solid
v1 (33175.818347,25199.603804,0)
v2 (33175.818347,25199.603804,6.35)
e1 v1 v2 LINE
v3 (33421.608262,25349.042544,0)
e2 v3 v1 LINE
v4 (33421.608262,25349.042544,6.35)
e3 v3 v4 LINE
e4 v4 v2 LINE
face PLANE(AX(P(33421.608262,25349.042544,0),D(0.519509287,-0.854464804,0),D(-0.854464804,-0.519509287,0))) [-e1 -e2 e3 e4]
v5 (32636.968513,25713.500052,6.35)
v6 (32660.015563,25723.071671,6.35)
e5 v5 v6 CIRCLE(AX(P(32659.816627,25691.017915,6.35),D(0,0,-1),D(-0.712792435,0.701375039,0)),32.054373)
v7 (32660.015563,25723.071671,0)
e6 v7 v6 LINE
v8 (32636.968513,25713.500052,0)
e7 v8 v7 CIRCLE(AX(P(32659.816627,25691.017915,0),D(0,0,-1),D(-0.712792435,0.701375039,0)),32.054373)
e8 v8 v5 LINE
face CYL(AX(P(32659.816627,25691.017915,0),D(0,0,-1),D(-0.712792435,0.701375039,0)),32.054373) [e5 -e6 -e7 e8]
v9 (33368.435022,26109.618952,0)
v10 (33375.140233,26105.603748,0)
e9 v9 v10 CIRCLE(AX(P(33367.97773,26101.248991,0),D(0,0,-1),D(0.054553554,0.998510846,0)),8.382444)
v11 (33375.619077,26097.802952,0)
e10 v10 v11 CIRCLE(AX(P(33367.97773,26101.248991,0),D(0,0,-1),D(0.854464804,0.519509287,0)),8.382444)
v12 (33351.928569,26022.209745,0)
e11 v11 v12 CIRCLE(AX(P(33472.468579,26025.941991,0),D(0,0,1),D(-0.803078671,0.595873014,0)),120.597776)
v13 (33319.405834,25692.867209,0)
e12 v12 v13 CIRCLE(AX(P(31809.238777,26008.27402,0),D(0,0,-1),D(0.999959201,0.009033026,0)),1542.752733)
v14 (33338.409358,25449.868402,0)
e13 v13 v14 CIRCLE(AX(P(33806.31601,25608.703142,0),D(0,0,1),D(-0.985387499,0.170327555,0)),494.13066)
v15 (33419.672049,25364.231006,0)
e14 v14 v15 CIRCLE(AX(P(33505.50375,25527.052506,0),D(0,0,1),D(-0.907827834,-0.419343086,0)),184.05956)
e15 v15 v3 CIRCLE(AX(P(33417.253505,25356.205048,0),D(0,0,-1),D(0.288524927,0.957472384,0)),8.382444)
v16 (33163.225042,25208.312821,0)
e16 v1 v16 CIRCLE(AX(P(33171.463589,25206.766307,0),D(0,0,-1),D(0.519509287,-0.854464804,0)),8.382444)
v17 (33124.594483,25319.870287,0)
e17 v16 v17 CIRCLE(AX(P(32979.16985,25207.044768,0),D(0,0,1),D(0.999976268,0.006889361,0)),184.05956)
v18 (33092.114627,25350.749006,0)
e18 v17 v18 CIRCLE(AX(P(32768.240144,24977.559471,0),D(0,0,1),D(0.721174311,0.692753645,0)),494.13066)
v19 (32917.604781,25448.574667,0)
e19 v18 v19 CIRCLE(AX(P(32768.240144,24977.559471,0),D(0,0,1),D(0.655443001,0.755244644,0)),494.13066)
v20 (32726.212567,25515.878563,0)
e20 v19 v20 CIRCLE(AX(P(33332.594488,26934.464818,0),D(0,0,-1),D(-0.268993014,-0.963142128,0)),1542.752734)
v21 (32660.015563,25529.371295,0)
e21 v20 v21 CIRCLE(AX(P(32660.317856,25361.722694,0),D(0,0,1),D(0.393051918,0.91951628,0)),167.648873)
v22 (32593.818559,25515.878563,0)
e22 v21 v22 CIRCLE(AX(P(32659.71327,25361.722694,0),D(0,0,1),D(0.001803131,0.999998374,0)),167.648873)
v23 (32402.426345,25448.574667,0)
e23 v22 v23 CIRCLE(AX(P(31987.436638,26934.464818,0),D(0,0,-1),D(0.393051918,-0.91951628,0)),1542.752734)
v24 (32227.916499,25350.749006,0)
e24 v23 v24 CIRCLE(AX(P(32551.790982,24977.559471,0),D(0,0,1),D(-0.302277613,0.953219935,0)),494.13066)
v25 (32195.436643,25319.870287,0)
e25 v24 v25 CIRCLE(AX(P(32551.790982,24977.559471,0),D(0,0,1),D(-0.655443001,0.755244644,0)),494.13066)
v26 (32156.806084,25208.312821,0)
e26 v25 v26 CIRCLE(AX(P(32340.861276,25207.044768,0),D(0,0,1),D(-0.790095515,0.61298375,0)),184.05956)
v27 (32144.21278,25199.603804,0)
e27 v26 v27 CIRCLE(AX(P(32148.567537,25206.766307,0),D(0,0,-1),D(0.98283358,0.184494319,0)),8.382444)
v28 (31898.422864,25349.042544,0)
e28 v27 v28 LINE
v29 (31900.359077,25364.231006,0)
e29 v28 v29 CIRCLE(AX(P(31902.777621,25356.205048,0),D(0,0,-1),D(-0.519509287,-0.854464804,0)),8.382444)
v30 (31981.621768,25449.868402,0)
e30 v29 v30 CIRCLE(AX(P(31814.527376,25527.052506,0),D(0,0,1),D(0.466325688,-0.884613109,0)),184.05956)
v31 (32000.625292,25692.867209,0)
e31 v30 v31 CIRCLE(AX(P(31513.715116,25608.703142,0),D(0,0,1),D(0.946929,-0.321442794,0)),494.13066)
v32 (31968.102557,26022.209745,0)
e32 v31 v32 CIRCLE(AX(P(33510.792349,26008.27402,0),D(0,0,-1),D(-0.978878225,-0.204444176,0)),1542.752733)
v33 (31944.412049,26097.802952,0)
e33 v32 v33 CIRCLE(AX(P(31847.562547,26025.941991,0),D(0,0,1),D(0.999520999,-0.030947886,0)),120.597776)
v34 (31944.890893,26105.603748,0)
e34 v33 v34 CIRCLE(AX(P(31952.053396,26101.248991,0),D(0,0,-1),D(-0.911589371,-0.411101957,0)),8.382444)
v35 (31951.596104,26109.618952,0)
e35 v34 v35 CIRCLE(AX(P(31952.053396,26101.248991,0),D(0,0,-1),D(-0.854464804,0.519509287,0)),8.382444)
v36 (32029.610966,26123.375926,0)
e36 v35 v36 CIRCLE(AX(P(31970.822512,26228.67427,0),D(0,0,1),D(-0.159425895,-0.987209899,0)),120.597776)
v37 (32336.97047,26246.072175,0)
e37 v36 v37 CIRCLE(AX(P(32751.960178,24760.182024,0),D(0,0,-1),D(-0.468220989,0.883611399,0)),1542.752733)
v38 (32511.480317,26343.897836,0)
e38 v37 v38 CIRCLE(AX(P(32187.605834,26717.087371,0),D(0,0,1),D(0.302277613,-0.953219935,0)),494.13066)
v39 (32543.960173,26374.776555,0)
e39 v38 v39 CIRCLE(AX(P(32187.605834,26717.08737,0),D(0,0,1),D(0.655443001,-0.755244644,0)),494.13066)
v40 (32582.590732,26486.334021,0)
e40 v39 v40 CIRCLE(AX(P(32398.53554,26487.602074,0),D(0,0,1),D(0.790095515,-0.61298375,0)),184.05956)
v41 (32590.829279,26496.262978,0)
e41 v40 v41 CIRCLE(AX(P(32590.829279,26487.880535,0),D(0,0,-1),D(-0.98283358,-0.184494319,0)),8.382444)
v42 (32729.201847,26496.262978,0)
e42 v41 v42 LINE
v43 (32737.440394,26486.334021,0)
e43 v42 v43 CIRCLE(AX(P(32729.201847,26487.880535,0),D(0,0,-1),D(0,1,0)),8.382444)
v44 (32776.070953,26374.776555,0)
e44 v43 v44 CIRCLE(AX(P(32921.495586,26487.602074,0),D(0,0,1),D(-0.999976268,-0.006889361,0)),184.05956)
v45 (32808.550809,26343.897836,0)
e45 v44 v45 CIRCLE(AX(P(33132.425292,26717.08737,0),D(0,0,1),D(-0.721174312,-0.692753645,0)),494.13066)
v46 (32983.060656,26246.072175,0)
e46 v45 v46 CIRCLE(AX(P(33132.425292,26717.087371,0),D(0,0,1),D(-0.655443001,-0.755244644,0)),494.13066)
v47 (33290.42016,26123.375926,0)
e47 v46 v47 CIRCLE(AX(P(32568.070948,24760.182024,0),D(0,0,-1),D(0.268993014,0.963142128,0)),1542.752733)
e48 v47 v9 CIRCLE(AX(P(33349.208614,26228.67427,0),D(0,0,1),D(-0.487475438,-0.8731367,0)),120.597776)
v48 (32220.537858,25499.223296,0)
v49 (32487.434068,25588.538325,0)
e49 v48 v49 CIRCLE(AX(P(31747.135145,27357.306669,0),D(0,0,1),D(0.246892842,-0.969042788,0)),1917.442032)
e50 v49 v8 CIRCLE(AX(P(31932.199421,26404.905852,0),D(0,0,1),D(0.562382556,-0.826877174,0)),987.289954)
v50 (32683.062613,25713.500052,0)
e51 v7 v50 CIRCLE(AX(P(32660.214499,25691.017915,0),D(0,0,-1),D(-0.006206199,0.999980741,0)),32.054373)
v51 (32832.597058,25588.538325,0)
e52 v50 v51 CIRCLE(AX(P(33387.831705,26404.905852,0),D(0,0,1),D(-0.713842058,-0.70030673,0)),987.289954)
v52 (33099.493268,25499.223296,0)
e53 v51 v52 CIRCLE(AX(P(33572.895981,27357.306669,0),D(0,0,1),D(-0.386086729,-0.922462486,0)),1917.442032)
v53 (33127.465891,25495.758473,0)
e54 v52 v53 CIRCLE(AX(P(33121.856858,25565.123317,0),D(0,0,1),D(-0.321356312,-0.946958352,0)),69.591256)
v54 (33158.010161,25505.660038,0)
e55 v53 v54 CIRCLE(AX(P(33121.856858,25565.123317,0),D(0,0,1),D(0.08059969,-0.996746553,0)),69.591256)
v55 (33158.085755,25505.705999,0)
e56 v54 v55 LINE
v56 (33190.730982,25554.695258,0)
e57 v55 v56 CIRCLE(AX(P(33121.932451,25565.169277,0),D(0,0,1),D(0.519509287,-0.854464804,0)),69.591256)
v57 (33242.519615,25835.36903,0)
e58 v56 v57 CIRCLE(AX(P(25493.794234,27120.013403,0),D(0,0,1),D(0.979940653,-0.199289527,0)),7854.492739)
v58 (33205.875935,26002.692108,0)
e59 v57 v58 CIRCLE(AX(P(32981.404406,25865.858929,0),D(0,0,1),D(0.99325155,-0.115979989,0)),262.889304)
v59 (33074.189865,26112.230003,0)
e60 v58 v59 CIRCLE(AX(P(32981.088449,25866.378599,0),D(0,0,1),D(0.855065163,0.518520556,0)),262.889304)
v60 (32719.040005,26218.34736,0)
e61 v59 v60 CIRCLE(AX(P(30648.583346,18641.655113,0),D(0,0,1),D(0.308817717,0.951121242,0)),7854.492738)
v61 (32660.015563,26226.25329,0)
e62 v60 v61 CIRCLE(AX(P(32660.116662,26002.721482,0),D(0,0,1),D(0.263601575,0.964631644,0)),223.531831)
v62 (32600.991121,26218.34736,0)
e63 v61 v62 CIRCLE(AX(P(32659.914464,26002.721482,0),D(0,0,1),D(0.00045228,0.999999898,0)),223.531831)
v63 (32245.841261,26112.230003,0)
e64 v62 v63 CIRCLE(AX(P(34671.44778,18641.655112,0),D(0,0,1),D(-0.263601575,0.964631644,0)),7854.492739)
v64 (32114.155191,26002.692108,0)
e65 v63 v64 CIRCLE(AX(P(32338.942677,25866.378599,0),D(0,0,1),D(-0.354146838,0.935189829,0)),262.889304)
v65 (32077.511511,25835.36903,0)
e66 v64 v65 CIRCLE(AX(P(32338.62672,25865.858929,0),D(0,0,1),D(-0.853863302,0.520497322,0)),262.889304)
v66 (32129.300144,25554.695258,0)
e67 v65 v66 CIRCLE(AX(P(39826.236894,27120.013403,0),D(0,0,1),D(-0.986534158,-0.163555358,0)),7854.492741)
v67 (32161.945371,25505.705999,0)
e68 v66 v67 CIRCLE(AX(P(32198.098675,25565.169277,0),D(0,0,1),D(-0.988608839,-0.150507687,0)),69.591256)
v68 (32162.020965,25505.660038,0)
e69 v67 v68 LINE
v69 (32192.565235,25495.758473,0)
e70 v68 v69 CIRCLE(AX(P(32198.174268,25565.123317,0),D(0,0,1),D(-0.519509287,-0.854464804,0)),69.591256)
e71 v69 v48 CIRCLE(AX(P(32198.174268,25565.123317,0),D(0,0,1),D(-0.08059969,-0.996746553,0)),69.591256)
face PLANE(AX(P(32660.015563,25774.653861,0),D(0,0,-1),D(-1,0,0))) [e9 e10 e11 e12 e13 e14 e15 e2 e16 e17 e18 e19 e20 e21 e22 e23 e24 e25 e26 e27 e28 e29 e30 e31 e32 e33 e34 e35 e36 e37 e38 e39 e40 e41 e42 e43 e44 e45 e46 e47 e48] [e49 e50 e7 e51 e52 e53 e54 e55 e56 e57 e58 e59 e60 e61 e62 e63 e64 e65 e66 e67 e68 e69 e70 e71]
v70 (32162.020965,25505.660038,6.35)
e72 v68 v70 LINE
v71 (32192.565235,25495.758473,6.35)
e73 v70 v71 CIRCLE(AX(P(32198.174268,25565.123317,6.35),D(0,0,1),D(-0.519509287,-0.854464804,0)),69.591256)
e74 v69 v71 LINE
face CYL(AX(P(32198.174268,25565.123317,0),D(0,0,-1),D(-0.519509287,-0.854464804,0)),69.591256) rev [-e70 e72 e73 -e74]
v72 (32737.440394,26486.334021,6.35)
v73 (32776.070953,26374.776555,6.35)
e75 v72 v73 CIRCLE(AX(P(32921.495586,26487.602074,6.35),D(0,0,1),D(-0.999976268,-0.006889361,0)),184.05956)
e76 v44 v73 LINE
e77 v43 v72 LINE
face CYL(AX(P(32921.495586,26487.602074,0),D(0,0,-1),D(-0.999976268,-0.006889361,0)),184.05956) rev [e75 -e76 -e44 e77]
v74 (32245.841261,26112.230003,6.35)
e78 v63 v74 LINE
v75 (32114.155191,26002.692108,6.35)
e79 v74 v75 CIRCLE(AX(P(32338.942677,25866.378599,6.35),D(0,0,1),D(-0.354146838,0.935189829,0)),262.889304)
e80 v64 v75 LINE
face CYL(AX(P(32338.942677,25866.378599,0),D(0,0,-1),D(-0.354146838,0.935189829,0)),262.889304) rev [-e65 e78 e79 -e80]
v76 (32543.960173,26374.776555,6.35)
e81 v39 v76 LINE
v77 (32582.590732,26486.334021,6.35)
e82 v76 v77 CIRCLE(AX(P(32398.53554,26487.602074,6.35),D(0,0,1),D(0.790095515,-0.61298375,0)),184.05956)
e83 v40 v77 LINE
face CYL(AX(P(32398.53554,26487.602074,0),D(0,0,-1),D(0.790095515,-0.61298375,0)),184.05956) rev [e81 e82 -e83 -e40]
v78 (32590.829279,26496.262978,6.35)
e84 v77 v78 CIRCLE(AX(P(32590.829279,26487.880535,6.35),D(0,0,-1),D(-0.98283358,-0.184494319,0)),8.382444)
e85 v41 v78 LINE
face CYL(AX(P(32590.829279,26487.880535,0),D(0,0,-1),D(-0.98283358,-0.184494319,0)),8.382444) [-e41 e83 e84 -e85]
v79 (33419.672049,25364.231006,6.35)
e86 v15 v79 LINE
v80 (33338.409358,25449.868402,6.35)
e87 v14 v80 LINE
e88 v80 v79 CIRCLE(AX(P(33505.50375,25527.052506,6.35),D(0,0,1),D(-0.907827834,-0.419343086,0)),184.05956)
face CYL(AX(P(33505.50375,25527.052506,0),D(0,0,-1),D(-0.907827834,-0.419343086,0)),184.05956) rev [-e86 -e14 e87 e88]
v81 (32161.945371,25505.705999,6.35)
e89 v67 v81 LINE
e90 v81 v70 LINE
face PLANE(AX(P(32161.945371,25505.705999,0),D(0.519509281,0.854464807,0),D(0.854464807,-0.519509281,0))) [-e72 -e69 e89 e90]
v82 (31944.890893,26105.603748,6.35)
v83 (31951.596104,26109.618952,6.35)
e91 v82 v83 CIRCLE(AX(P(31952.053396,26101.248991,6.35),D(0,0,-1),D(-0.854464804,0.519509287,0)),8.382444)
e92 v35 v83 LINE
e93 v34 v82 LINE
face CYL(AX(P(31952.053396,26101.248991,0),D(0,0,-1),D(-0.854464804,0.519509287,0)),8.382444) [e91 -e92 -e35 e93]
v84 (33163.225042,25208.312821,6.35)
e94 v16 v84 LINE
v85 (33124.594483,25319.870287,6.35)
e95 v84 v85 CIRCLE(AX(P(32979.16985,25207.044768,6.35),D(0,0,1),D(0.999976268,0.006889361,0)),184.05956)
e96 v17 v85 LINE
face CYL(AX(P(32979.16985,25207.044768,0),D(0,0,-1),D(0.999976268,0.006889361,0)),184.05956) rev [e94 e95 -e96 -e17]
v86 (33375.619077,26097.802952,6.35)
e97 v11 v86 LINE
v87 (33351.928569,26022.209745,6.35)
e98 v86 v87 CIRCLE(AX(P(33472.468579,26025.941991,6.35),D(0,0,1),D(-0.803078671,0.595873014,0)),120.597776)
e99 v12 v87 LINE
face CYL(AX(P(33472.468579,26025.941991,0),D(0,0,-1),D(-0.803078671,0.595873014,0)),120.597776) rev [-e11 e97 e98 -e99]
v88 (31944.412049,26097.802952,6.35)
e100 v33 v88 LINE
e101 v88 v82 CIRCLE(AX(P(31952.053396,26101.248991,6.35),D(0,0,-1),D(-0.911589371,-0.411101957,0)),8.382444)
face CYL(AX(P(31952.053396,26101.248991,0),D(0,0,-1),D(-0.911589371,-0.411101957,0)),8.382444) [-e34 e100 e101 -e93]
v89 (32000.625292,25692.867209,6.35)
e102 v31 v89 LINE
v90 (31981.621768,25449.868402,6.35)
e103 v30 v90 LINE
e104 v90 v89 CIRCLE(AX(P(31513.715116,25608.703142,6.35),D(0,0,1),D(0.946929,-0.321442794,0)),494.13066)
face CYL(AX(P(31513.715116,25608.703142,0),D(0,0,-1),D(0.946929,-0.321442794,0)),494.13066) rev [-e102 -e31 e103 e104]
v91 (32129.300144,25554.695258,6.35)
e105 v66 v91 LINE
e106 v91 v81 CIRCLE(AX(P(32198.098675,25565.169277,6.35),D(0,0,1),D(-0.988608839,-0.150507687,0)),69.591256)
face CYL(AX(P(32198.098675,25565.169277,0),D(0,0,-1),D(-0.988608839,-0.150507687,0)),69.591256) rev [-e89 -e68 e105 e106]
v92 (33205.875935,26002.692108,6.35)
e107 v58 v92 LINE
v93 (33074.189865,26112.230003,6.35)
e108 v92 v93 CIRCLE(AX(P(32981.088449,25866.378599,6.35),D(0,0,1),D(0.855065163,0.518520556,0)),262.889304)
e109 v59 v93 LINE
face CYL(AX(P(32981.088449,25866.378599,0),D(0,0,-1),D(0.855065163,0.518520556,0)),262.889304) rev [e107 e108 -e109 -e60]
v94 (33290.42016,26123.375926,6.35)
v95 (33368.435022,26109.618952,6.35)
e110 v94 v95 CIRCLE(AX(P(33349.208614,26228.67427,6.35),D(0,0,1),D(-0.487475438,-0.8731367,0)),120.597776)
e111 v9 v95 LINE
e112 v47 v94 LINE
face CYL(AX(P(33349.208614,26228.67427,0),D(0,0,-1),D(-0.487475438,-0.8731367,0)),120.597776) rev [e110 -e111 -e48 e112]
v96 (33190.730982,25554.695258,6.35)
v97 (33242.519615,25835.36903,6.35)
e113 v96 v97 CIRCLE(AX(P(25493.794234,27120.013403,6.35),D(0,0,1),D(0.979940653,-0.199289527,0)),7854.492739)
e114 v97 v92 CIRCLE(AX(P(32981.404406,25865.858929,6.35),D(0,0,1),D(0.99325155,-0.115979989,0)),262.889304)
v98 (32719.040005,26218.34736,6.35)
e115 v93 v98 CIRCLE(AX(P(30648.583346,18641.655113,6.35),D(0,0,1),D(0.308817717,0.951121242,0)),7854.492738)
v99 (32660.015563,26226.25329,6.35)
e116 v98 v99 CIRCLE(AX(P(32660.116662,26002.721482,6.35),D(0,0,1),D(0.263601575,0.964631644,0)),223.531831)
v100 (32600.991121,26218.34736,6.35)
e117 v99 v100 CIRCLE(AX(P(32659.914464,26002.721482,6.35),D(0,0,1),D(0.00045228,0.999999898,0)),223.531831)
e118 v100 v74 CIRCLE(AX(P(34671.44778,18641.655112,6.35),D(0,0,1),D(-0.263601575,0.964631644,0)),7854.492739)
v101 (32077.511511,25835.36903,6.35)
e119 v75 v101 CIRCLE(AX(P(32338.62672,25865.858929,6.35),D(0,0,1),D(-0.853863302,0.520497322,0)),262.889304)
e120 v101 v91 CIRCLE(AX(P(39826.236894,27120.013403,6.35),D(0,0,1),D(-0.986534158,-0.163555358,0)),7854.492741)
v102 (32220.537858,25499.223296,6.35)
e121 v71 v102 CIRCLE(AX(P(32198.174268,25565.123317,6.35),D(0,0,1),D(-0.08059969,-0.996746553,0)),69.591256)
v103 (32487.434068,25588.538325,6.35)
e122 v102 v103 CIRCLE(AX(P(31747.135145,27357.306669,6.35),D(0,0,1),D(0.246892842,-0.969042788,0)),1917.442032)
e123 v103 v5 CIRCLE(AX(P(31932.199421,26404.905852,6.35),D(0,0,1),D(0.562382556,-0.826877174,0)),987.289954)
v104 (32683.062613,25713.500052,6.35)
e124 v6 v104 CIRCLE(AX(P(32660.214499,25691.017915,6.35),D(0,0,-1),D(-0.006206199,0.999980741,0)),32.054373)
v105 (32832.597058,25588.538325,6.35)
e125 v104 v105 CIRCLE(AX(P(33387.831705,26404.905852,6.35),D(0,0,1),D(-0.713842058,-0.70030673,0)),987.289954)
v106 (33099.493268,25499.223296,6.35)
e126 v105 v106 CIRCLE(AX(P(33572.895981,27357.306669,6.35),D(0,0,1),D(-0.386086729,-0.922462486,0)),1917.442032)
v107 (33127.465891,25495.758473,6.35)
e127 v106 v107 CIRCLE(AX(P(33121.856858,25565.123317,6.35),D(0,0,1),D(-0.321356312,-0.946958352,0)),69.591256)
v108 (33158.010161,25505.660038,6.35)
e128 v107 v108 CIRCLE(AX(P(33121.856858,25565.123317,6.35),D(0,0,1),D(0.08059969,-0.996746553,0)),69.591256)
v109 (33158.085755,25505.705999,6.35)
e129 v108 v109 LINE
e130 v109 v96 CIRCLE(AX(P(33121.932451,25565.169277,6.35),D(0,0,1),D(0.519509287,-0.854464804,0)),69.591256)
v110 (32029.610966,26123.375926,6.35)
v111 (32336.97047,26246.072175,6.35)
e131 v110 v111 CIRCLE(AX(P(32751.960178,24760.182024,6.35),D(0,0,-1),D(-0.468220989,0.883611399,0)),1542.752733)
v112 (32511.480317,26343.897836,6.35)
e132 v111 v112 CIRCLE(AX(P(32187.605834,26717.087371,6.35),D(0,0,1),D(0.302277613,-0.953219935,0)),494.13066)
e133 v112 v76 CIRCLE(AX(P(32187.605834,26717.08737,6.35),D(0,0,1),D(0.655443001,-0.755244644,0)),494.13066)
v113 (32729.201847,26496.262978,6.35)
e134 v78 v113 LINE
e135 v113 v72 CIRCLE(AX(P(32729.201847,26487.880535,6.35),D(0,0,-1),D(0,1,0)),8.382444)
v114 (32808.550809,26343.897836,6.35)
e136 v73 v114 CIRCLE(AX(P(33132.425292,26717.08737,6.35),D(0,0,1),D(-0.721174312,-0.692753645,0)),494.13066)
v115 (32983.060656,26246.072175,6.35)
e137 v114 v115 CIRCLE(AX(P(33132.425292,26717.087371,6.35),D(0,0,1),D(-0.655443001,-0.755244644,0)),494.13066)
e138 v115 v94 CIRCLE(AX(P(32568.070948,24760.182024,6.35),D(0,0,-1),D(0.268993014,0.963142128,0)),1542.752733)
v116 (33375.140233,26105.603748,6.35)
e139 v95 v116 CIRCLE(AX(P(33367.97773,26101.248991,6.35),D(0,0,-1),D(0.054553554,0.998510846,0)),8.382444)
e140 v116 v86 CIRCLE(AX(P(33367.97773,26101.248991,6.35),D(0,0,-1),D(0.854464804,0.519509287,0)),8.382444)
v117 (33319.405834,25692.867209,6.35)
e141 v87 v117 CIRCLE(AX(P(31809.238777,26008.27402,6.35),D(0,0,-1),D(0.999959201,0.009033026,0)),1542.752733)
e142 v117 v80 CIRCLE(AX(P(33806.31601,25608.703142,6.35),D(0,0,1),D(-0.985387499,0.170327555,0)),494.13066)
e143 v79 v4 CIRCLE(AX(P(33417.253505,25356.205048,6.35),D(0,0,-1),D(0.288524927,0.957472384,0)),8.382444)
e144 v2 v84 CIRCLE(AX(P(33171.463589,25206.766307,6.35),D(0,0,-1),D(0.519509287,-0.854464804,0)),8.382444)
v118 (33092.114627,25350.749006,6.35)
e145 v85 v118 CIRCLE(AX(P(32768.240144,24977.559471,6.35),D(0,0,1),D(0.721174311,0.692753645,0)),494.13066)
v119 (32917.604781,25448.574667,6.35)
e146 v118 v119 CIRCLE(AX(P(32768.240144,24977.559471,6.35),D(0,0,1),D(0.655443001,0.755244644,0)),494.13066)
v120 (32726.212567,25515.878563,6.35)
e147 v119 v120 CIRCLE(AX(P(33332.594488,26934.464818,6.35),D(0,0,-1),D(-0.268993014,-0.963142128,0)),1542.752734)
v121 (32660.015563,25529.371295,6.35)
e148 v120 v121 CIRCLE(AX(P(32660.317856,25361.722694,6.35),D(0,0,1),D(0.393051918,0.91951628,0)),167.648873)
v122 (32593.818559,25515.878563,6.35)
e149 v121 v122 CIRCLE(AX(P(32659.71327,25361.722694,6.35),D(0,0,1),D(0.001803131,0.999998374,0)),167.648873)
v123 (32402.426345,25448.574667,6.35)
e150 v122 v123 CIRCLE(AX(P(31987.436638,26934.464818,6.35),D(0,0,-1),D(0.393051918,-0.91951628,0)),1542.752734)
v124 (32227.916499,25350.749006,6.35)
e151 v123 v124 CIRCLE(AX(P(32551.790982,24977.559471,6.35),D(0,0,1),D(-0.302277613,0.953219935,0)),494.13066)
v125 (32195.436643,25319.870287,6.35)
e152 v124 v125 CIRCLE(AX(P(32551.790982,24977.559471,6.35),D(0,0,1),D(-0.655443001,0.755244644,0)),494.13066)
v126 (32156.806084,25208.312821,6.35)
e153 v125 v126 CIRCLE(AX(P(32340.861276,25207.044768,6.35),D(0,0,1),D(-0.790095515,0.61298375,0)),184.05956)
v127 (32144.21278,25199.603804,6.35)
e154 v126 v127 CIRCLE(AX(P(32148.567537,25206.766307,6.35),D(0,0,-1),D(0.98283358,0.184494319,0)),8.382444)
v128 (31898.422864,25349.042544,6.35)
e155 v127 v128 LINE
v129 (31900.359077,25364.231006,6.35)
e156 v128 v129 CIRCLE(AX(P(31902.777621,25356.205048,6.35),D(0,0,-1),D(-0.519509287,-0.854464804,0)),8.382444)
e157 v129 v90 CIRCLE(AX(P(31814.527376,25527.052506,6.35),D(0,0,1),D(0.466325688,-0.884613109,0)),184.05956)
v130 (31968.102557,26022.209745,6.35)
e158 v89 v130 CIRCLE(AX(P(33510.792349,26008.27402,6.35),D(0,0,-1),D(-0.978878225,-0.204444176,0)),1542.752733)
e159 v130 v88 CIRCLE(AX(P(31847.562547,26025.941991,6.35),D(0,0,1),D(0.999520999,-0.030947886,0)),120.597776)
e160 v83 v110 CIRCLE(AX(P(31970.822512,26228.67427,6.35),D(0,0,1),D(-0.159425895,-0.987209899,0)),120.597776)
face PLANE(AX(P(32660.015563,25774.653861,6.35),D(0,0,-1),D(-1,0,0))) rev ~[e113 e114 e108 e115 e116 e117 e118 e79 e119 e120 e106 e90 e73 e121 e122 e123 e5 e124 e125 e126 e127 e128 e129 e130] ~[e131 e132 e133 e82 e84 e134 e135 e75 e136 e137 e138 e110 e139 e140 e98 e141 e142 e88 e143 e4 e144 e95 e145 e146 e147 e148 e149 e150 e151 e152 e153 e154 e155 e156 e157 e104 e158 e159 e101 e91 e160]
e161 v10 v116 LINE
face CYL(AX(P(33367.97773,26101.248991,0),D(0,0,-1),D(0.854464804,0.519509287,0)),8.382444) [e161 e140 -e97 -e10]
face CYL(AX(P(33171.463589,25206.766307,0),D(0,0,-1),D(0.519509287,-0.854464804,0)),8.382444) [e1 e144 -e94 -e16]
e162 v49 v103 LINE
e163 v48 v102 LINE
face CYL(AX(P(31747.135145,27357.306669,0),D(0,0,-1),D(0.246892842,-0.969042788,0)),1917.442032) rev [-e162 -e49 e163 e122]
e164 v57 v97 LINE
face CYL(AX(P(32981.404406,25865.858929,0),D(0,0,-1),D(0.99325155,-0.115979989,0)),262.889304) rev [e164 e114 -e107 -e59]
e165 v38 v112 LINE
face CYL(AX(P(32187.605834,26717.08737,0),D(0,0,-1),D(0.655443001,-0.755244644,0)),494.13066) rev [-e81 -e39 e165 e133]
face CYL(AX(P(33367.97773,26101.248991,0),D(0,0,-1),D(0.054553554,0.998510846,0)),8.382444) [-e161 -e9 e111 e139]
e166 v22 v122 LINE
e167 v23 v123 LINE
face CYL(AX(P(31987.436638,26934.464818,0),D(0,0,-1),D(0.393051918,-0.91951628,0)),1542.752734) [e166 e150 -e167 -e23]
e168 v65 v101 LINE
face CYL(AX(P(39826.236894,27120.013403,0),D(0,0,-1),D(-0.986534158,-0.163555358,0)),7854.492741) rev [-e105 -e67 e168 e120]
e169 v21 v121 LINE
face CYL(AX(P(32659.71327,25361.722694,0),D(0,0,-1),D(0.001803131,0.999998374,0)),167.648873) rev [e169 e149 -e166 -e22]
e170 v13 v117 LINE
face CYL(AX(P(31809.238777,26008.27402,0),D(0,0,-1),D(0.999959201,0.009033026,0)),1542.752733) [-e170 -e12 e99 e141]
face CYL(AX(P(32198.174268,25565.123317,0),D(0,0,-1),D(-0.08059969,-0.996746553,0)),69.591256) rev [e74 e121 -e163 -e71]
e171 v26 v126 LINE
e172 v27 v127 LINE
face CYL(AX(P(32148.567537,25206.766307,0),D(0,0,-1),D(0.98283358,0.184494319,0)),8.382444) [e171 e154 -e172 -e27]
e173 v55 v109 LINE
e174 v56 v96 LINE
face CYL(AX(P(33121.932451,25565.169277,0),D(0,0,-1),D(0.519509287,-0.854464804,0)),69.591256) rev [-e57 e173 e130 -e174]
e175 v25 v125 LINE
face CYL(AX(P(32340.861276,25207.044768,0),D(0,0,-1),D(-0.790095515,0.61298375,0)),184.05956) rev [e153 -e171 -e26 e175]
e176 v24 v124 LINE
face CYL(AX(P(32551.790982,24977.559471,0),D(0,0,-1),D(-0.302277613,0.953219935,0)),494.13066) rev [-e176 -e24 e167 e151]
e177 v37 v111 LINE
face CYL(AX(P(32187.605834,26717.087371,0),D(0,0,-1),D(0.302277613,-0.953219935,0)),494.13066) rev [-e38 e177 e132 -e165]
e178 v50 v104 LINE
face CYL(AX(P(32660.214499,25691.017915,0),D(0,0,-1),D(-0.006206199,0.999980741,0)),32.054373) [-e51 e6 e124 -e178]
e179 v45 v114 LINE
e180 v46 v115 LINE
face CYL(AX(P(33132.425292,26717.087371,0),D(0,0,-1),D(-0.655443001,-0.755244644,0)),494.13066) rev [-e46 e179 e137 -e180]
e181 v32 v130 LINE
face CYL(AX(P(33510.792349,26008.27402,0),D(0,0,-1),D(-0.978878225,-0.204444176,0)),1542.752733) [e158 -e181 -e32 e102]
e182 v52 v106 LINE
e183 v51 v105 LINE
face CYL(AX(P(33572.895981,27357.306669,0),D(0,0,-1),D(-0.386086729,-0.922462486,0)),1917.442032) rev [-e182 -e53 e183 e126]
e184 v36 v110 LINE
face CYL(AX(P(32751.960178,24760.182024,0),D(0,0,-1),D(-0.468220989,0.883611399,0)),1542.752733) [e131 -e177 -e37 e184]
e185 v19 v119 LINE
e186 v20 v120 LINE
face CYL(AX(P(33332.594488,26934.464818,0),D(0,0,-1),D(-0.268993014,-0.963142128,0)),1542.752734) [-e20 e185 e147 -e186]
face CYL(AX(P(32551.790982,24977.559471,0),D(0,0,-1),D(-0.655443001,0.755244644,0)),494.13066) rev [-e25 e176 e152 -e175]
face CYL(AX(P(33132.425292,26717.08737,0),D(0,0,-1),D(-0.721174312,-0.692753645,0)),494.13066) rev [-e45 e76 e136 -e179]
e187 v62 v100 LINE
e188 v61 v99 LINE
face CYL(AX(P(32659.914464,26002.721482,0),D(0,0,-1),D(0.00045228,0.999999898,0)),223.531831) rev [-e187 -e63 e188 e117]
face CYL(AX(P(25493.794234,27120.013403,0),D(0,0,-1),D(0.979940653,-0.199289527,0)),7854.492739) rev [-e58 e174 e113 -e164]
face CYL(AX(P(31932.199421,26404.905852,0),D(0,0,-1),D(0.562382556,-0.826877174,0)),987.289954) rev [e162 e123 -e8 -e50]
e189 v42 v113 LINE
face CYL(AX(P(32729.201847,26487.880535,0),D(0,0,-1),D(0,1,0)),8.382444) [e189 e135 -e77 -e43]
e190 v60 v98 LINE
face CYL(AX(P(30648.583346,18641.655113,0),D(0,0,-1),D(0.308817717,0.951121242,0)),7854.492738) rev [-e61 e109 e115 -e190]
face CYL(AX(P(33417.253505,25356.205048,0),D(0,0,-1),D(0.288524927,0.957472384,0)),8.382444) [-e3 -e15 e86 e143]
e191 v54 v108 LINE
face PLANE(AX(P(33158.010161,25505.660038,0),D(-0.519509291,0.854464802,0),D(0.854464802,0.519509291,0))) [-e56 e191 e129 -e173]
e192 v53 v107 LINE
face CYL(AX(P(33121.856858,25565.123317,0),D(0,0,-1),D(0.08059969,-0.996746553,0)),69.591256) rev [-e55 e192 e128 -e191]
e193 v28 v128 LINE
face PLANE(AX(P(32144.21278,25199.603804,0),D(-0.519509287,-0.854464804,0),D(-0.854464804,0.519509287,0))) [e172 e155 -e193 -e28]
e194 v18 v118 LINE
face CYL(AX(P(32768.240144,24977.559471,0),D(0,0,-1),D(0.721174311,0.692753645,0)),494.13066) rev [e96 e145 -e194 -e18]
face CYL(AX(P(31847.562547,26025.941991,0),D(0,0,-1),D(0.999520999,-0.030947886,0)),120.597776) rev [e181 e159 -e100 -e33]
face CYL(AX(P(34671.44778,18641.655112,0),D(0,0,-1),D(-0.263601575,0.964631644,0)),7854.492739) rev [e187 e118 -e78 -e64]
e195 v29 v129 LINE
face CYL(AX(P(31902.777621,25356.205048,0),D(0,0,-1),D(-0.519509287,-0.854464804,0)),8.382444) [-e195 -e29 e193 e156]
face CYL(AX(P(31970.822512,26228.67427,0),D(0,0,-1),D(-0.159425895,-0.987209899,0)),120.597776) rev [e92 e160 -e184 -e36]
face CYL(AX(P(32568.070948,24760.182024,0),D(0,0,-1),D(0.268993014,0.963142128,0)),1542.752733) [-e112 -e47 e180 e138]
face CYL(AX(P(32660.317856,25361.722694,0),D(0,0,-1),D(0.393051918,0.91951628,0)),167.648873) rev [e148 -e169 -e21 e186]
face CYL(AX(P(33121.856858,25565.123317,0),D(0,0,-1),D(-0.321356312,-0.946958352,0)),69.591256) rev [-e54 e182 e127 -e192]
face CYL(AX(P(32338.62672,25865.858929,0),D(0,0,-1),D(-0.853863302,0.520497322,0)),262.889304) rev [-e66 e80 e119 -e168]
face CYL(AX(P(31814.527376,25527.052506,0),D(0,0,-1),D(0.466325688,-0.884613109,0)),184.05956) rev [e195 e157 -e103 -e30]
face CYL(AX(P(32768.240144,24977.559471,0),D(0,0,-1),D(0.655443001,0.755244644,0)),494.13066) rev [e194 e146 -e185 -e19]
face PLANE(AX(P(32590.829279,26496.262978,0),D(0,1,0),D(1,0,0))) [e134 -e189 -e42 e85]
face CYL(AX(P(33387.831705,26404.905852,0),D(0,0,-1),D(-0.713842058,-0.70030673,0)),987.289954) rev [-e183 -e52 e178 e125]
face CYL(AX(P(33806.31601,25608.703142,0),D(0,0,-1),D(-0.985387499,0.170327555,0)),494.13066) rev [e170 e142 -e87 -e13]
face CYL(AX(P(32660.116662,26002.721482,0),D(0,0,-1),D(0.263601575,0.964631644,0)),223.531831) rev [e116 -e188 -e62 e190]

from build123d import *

# Parameters (mm, degrees)
BOSS_EXTRUDE1_DEPTH = 6.35


with BuildPart() as part:
    # Model → Boss-Extrude1 (new body)
    with BuildSketch(Plane.XY):
        with BuildLine():
            Line((31898.42286363, 25349.042544488), (32021.317821572, 25274.323174378))
            Line((32021.317821572, 25274.323174378), (32144.212779514, 25199.603804268))
            ThreePointArc((32144.212779514, 25199.603804268), (32153.335418666, 25199.871913635), (32156.80608396, 25208.312820585))
            ThreePointArc((32156.80608396, 25208.312820585), (32166.934550474, 25267.272799762), (32195.436643106, 25319.870287288))
            ThreePointArc((32195.436643106, 25319.870287288), (32211.326319487, 25335.678059434), (32227.916498791, 25350.749005866))
            ThreePointArc((32227.916498791, 25350.749005866), (32310.168795148, 25408.585953526), (32402.426345225, 25448.574667242))
            ThreePointArc((32402.426345225, 25448.574667242), (32499.230008667, 25479.077054216), (32593.818558867, 25515.878562856))
            ThreePointArc((32593.818558867, 25515.878562856), (32626.230367121, 25525.993933375), (32660.015563019, 25529.371295238))
            ThreePointArc((32660.015563019, 25529.371295238), (32693.800758918, 25525.993933375), (32726.212567172, 25515.878562856))
            ThreePointArc((32726.212567172, 25515.878562856), (32820.801117373, 25479.077054216), (32917.604780817, 25448.574667241))
            ThreePointArc((32917.604780817, 25448.574667241), (33009.862330892, 25408.585953526), (33092.114627248, 25350.749005866))
            ThreePointArc((33092.114627248, 25350.749005866), (33108.704806552, 25335.678059434), (33124.594482933, 25319.870287288))
            ThreePointArc((33124.594482933, 25319.870287288), (33153.096575565, 25267.272799762), (33163.225042079, 25208.312820585))
            ThreePointArc((33163.225042079, 25208.312820585), (33166.695707373, 25199.871913635), (33175.818346525, 25199.603804268))
            Line((33175.818346525, 25199.603804268), (33298.713304467, 25274.323174378))
            Line((33298.713304467, 25274.323174378), (33421.608262409, 25349.042544488))
            ThreePointArc((33421.608262409, 25349.042544488), (33425.568656461, 25357.265056675), (33419.672049026, 25364.231005892))
            ThreePointArc((33419.672049026, 25364.231005892), (33371.988421328, 25400.357680634), (33338.409358194, 25449.868401671))
            ThreePointArc((33338.409358194, 25449.868401671), (33313.689479446, 25570.177684815), (33319.405834276, 25692.867208832))
            ThreePointArc((33319.405834276, 25692.867208832), (33344.523884523, 25856.663875176), (33351.928568545, 26022.209744977))
            ThreePointArc((33351.928568545, 26022.209744977), (33357.389765533, 26062.007077803), (33375.619076587, 26097.802951743))
            ThreePointArc((33375.619076587, 26097.802951743), (33376.344425729, 26101.762571322), (33375.140233121, 26105.603748061))
            ThreePointArc((33375.140233121, 26105.603748061), (33372.284211734, 26108.440623176), (33368.435022132, 26109.618951649))
            ThreePointArc((33368.435022132, 26109.618951649), (33328.265776157, 26109.908866112), (33290.420159808, 26123.375925766))
            ThreePointArc((33290.420159808, 26123.375925766), (33140.039956563, 26192.989565418), (32983.06065556, 26246.072174717))
            ThreePointArc((32983.06065556, 26246.072174717), (32890.803105481, 26286.060888433), (32808.550809123, 26343.897836094))
            ThreePointArc((32808.550809123, 26343.897836094), (32791.960629818, 26358.968782526), (32776.070953438, 26374.776554672))
            ThreePointArc((32776.070953438, 26374.776554672), (32747.568860806, 26427.374042198), (32737.440394292, 26486.334021375))
            ThreePointArc((32737.440394292, 26486.334021375), (32735.652774311, 26493.233188238), (32729.201847174, 26496.262978274))
            Line((32729.201847174, 26496.262978274), (32660.015563019, 26496.262978274))
            Line((32660.015563019, 26496.262978274), (32590.829278865, 26496.262978274))
            ThreePointArc((32590.829278865, 26496.262978274), (32584.378351728, 26493.233188238), (32582.590731747, 26486.334021375))
            ThreePointArc((32582.590731747, 26486.334021375), (32572.462265233, 26427.374042198), (32543.960172601, 26374.776554672))
            ThreePointArc((32543.960172601, 26374.776554672), (32528.070496221, 26358.968782526), (32511.480316916, 26343.897836094))
            ThreePointArc((32511.480316916, 26343.897836094), (32429.228020558, 26286.060888433), (32336.970470479, 26246.072174717))
            ThreePointArc((32336.970470479, 26246.072174717), (32179.991169477, 26192.989565418), (32029.610966233, 26123.375925767))
            ThreePointArc((32029.610966233, 26123.375925767), (31991.765349883, 26109.908866112), (31951.596103907, 26109.618951649))
            ThreePointArc((31951.596103907, 26109.618951649), (31947.746914305, 26108.440623176), (31944.890892918, 26105.603748061))
            ThreePointArc((31944.890892918, 26105.603748061), (31943.68670031, 26101.762571322), (31944.412049452, 26097.802951743))
            ThreePointArc((31944.412049452, 26097.802951743), (31962.641360506, 26062.007077803), (31968.102557494, 26022.209744977))
            ThreePointArc((31968.102557494, 26022.209744977), (31975.507241516, 25856.663875176), (32000.625291763, 25692.867208832))
            ThreePointArc((32000.625291763, 25692.867208832), (32006.341646593, 25570.177684815), (31981.621767845, 25449.868401671))
            ThreePointArc((31981.621767845, 25449.868401671), (31948.042704711, 25400.357680634), (31900.359077013, 25364.231005892))
            ThreePointArc((31900.359077013, 25364.231005892), (31894.462469578, 25357.265056675), (31898.42286363, 25349.042544488))
        make_face()
        with BuildLine():
            Line((32162.020964729, 25505.660038211), (32161.945371032, 25505.705998708))
            ThreePointArc((32161.945371032, 25505.705998708), (32140.18746019, 25526.578681225), (32129.300144187, 25554.695258362))
            ThreePointArc((32129.300144187, 25554.695258362), (32102.130853739, 25694.796891925), (32077.511511077, 25835.369030123))
            ThreePointArc((32077.511511077, 25835.369030123), (32081.823540268, 25922.098711206), (32114.155190805, 26002.692107648))
            ThreePointArc((32114.155190805, 26002.692107648), (32170.826716382, 26068.487011443), (32245.841260727, 26112.230003031))
            ThreePointArc((32245.841260727, 26112.230003031), (32422.790125237, 26167.38397641), (32600.991121341, 26218.347359521))
            ThreePointArc((32600.991121341, 26218.347359521), (32630.238884468, 26224.274724699), (32660.015563019, 26226.253289931))
            ThreePointArc((32660.015563019, 26226.253289931), (32689.79224157, 26224.274724699), (32719.040004698, 26218.347359521))
            ThreePointArc((32719.040004698, 26218.347359521), (32897.241000802, 26167.38397641), (33074.189865311, 26112.230003031))
            ThreePointArc((33074.189865311, 26112.230003031), (33149.204409657, 26068.487011442), (33205.875935233, 26002.692107648))
            ThreePointArc((33205.875935233, 26002.692107648), (33238.20758577, 25922.098711206), (33242.519614962, 25835.369030123))
            ThreePointArc((33242.519614962, 25835.369030123), (33217.9002723, 25694.796891925), (33190.730981851, 25554.695258361))
            ThreePointArc((33190.730981851, 25554.695258361), (33179.843665848, 25526.578681224), (33158.085755006, 25505.705998708))
            Line((33158.085755006, 25505.705998708), (33158.010161449, 25505.660038295))
            ThreePointArc((33158.010161449, 25505.660038295), (33143.316900969, 25498.923547887), (33127.465891366, 25495.758472671))
            ThreePointArc((33127.465891366, 25495.758472671), (33113.302324791, 25496.059847259), (33099.49326847, 25499.223296059))
            ThreePointArc((33099.49326847, 25499.223296059), (32964.404231752, 25538.977287333), (32832.597057568, 25588.538325434))
            ThreePointArc((32832.597057568, 25588.538325434), (32754.7391258, 25647.320716043), (32683.062613492, 25713.500052457))
            ThreePointArc((32683.062613492, 25713.500052457), (32672.508818509, 25720.62082965), (32660.01556302, 25723.071671069))
            ThreePointArc((32660.01556302, 25723.071671069), (32647.52230753, 25720.62082965), (32636.968512547, 25713.500052457))
            ThreePointArc((32636.968512547, 25713.500052457), (32565.292000239, 25647.320716044), (32487.434068472, 25588.538325436))
            ThreePointArc((32487.434068472, 25588.538325436), (32355.626894288, 25538.977287334), (32220.537857569, 25499.223296059))
            ThreePointArc((32220.537857569, 25499.223296059), (32206.728801248, 25496.05984726), (32192.565234673, 25495.758472672))
            ThreePointArc((32192.565234673, 25495.758472672), (32176.714225147, 25498.923547863), (32162.020964729, 25505.660038211))
        make_face(mode=Mode.SUBTRACT)
    extrude(amount=BOSS_EXTRUDE1_DEPTH)


solid = part.part
